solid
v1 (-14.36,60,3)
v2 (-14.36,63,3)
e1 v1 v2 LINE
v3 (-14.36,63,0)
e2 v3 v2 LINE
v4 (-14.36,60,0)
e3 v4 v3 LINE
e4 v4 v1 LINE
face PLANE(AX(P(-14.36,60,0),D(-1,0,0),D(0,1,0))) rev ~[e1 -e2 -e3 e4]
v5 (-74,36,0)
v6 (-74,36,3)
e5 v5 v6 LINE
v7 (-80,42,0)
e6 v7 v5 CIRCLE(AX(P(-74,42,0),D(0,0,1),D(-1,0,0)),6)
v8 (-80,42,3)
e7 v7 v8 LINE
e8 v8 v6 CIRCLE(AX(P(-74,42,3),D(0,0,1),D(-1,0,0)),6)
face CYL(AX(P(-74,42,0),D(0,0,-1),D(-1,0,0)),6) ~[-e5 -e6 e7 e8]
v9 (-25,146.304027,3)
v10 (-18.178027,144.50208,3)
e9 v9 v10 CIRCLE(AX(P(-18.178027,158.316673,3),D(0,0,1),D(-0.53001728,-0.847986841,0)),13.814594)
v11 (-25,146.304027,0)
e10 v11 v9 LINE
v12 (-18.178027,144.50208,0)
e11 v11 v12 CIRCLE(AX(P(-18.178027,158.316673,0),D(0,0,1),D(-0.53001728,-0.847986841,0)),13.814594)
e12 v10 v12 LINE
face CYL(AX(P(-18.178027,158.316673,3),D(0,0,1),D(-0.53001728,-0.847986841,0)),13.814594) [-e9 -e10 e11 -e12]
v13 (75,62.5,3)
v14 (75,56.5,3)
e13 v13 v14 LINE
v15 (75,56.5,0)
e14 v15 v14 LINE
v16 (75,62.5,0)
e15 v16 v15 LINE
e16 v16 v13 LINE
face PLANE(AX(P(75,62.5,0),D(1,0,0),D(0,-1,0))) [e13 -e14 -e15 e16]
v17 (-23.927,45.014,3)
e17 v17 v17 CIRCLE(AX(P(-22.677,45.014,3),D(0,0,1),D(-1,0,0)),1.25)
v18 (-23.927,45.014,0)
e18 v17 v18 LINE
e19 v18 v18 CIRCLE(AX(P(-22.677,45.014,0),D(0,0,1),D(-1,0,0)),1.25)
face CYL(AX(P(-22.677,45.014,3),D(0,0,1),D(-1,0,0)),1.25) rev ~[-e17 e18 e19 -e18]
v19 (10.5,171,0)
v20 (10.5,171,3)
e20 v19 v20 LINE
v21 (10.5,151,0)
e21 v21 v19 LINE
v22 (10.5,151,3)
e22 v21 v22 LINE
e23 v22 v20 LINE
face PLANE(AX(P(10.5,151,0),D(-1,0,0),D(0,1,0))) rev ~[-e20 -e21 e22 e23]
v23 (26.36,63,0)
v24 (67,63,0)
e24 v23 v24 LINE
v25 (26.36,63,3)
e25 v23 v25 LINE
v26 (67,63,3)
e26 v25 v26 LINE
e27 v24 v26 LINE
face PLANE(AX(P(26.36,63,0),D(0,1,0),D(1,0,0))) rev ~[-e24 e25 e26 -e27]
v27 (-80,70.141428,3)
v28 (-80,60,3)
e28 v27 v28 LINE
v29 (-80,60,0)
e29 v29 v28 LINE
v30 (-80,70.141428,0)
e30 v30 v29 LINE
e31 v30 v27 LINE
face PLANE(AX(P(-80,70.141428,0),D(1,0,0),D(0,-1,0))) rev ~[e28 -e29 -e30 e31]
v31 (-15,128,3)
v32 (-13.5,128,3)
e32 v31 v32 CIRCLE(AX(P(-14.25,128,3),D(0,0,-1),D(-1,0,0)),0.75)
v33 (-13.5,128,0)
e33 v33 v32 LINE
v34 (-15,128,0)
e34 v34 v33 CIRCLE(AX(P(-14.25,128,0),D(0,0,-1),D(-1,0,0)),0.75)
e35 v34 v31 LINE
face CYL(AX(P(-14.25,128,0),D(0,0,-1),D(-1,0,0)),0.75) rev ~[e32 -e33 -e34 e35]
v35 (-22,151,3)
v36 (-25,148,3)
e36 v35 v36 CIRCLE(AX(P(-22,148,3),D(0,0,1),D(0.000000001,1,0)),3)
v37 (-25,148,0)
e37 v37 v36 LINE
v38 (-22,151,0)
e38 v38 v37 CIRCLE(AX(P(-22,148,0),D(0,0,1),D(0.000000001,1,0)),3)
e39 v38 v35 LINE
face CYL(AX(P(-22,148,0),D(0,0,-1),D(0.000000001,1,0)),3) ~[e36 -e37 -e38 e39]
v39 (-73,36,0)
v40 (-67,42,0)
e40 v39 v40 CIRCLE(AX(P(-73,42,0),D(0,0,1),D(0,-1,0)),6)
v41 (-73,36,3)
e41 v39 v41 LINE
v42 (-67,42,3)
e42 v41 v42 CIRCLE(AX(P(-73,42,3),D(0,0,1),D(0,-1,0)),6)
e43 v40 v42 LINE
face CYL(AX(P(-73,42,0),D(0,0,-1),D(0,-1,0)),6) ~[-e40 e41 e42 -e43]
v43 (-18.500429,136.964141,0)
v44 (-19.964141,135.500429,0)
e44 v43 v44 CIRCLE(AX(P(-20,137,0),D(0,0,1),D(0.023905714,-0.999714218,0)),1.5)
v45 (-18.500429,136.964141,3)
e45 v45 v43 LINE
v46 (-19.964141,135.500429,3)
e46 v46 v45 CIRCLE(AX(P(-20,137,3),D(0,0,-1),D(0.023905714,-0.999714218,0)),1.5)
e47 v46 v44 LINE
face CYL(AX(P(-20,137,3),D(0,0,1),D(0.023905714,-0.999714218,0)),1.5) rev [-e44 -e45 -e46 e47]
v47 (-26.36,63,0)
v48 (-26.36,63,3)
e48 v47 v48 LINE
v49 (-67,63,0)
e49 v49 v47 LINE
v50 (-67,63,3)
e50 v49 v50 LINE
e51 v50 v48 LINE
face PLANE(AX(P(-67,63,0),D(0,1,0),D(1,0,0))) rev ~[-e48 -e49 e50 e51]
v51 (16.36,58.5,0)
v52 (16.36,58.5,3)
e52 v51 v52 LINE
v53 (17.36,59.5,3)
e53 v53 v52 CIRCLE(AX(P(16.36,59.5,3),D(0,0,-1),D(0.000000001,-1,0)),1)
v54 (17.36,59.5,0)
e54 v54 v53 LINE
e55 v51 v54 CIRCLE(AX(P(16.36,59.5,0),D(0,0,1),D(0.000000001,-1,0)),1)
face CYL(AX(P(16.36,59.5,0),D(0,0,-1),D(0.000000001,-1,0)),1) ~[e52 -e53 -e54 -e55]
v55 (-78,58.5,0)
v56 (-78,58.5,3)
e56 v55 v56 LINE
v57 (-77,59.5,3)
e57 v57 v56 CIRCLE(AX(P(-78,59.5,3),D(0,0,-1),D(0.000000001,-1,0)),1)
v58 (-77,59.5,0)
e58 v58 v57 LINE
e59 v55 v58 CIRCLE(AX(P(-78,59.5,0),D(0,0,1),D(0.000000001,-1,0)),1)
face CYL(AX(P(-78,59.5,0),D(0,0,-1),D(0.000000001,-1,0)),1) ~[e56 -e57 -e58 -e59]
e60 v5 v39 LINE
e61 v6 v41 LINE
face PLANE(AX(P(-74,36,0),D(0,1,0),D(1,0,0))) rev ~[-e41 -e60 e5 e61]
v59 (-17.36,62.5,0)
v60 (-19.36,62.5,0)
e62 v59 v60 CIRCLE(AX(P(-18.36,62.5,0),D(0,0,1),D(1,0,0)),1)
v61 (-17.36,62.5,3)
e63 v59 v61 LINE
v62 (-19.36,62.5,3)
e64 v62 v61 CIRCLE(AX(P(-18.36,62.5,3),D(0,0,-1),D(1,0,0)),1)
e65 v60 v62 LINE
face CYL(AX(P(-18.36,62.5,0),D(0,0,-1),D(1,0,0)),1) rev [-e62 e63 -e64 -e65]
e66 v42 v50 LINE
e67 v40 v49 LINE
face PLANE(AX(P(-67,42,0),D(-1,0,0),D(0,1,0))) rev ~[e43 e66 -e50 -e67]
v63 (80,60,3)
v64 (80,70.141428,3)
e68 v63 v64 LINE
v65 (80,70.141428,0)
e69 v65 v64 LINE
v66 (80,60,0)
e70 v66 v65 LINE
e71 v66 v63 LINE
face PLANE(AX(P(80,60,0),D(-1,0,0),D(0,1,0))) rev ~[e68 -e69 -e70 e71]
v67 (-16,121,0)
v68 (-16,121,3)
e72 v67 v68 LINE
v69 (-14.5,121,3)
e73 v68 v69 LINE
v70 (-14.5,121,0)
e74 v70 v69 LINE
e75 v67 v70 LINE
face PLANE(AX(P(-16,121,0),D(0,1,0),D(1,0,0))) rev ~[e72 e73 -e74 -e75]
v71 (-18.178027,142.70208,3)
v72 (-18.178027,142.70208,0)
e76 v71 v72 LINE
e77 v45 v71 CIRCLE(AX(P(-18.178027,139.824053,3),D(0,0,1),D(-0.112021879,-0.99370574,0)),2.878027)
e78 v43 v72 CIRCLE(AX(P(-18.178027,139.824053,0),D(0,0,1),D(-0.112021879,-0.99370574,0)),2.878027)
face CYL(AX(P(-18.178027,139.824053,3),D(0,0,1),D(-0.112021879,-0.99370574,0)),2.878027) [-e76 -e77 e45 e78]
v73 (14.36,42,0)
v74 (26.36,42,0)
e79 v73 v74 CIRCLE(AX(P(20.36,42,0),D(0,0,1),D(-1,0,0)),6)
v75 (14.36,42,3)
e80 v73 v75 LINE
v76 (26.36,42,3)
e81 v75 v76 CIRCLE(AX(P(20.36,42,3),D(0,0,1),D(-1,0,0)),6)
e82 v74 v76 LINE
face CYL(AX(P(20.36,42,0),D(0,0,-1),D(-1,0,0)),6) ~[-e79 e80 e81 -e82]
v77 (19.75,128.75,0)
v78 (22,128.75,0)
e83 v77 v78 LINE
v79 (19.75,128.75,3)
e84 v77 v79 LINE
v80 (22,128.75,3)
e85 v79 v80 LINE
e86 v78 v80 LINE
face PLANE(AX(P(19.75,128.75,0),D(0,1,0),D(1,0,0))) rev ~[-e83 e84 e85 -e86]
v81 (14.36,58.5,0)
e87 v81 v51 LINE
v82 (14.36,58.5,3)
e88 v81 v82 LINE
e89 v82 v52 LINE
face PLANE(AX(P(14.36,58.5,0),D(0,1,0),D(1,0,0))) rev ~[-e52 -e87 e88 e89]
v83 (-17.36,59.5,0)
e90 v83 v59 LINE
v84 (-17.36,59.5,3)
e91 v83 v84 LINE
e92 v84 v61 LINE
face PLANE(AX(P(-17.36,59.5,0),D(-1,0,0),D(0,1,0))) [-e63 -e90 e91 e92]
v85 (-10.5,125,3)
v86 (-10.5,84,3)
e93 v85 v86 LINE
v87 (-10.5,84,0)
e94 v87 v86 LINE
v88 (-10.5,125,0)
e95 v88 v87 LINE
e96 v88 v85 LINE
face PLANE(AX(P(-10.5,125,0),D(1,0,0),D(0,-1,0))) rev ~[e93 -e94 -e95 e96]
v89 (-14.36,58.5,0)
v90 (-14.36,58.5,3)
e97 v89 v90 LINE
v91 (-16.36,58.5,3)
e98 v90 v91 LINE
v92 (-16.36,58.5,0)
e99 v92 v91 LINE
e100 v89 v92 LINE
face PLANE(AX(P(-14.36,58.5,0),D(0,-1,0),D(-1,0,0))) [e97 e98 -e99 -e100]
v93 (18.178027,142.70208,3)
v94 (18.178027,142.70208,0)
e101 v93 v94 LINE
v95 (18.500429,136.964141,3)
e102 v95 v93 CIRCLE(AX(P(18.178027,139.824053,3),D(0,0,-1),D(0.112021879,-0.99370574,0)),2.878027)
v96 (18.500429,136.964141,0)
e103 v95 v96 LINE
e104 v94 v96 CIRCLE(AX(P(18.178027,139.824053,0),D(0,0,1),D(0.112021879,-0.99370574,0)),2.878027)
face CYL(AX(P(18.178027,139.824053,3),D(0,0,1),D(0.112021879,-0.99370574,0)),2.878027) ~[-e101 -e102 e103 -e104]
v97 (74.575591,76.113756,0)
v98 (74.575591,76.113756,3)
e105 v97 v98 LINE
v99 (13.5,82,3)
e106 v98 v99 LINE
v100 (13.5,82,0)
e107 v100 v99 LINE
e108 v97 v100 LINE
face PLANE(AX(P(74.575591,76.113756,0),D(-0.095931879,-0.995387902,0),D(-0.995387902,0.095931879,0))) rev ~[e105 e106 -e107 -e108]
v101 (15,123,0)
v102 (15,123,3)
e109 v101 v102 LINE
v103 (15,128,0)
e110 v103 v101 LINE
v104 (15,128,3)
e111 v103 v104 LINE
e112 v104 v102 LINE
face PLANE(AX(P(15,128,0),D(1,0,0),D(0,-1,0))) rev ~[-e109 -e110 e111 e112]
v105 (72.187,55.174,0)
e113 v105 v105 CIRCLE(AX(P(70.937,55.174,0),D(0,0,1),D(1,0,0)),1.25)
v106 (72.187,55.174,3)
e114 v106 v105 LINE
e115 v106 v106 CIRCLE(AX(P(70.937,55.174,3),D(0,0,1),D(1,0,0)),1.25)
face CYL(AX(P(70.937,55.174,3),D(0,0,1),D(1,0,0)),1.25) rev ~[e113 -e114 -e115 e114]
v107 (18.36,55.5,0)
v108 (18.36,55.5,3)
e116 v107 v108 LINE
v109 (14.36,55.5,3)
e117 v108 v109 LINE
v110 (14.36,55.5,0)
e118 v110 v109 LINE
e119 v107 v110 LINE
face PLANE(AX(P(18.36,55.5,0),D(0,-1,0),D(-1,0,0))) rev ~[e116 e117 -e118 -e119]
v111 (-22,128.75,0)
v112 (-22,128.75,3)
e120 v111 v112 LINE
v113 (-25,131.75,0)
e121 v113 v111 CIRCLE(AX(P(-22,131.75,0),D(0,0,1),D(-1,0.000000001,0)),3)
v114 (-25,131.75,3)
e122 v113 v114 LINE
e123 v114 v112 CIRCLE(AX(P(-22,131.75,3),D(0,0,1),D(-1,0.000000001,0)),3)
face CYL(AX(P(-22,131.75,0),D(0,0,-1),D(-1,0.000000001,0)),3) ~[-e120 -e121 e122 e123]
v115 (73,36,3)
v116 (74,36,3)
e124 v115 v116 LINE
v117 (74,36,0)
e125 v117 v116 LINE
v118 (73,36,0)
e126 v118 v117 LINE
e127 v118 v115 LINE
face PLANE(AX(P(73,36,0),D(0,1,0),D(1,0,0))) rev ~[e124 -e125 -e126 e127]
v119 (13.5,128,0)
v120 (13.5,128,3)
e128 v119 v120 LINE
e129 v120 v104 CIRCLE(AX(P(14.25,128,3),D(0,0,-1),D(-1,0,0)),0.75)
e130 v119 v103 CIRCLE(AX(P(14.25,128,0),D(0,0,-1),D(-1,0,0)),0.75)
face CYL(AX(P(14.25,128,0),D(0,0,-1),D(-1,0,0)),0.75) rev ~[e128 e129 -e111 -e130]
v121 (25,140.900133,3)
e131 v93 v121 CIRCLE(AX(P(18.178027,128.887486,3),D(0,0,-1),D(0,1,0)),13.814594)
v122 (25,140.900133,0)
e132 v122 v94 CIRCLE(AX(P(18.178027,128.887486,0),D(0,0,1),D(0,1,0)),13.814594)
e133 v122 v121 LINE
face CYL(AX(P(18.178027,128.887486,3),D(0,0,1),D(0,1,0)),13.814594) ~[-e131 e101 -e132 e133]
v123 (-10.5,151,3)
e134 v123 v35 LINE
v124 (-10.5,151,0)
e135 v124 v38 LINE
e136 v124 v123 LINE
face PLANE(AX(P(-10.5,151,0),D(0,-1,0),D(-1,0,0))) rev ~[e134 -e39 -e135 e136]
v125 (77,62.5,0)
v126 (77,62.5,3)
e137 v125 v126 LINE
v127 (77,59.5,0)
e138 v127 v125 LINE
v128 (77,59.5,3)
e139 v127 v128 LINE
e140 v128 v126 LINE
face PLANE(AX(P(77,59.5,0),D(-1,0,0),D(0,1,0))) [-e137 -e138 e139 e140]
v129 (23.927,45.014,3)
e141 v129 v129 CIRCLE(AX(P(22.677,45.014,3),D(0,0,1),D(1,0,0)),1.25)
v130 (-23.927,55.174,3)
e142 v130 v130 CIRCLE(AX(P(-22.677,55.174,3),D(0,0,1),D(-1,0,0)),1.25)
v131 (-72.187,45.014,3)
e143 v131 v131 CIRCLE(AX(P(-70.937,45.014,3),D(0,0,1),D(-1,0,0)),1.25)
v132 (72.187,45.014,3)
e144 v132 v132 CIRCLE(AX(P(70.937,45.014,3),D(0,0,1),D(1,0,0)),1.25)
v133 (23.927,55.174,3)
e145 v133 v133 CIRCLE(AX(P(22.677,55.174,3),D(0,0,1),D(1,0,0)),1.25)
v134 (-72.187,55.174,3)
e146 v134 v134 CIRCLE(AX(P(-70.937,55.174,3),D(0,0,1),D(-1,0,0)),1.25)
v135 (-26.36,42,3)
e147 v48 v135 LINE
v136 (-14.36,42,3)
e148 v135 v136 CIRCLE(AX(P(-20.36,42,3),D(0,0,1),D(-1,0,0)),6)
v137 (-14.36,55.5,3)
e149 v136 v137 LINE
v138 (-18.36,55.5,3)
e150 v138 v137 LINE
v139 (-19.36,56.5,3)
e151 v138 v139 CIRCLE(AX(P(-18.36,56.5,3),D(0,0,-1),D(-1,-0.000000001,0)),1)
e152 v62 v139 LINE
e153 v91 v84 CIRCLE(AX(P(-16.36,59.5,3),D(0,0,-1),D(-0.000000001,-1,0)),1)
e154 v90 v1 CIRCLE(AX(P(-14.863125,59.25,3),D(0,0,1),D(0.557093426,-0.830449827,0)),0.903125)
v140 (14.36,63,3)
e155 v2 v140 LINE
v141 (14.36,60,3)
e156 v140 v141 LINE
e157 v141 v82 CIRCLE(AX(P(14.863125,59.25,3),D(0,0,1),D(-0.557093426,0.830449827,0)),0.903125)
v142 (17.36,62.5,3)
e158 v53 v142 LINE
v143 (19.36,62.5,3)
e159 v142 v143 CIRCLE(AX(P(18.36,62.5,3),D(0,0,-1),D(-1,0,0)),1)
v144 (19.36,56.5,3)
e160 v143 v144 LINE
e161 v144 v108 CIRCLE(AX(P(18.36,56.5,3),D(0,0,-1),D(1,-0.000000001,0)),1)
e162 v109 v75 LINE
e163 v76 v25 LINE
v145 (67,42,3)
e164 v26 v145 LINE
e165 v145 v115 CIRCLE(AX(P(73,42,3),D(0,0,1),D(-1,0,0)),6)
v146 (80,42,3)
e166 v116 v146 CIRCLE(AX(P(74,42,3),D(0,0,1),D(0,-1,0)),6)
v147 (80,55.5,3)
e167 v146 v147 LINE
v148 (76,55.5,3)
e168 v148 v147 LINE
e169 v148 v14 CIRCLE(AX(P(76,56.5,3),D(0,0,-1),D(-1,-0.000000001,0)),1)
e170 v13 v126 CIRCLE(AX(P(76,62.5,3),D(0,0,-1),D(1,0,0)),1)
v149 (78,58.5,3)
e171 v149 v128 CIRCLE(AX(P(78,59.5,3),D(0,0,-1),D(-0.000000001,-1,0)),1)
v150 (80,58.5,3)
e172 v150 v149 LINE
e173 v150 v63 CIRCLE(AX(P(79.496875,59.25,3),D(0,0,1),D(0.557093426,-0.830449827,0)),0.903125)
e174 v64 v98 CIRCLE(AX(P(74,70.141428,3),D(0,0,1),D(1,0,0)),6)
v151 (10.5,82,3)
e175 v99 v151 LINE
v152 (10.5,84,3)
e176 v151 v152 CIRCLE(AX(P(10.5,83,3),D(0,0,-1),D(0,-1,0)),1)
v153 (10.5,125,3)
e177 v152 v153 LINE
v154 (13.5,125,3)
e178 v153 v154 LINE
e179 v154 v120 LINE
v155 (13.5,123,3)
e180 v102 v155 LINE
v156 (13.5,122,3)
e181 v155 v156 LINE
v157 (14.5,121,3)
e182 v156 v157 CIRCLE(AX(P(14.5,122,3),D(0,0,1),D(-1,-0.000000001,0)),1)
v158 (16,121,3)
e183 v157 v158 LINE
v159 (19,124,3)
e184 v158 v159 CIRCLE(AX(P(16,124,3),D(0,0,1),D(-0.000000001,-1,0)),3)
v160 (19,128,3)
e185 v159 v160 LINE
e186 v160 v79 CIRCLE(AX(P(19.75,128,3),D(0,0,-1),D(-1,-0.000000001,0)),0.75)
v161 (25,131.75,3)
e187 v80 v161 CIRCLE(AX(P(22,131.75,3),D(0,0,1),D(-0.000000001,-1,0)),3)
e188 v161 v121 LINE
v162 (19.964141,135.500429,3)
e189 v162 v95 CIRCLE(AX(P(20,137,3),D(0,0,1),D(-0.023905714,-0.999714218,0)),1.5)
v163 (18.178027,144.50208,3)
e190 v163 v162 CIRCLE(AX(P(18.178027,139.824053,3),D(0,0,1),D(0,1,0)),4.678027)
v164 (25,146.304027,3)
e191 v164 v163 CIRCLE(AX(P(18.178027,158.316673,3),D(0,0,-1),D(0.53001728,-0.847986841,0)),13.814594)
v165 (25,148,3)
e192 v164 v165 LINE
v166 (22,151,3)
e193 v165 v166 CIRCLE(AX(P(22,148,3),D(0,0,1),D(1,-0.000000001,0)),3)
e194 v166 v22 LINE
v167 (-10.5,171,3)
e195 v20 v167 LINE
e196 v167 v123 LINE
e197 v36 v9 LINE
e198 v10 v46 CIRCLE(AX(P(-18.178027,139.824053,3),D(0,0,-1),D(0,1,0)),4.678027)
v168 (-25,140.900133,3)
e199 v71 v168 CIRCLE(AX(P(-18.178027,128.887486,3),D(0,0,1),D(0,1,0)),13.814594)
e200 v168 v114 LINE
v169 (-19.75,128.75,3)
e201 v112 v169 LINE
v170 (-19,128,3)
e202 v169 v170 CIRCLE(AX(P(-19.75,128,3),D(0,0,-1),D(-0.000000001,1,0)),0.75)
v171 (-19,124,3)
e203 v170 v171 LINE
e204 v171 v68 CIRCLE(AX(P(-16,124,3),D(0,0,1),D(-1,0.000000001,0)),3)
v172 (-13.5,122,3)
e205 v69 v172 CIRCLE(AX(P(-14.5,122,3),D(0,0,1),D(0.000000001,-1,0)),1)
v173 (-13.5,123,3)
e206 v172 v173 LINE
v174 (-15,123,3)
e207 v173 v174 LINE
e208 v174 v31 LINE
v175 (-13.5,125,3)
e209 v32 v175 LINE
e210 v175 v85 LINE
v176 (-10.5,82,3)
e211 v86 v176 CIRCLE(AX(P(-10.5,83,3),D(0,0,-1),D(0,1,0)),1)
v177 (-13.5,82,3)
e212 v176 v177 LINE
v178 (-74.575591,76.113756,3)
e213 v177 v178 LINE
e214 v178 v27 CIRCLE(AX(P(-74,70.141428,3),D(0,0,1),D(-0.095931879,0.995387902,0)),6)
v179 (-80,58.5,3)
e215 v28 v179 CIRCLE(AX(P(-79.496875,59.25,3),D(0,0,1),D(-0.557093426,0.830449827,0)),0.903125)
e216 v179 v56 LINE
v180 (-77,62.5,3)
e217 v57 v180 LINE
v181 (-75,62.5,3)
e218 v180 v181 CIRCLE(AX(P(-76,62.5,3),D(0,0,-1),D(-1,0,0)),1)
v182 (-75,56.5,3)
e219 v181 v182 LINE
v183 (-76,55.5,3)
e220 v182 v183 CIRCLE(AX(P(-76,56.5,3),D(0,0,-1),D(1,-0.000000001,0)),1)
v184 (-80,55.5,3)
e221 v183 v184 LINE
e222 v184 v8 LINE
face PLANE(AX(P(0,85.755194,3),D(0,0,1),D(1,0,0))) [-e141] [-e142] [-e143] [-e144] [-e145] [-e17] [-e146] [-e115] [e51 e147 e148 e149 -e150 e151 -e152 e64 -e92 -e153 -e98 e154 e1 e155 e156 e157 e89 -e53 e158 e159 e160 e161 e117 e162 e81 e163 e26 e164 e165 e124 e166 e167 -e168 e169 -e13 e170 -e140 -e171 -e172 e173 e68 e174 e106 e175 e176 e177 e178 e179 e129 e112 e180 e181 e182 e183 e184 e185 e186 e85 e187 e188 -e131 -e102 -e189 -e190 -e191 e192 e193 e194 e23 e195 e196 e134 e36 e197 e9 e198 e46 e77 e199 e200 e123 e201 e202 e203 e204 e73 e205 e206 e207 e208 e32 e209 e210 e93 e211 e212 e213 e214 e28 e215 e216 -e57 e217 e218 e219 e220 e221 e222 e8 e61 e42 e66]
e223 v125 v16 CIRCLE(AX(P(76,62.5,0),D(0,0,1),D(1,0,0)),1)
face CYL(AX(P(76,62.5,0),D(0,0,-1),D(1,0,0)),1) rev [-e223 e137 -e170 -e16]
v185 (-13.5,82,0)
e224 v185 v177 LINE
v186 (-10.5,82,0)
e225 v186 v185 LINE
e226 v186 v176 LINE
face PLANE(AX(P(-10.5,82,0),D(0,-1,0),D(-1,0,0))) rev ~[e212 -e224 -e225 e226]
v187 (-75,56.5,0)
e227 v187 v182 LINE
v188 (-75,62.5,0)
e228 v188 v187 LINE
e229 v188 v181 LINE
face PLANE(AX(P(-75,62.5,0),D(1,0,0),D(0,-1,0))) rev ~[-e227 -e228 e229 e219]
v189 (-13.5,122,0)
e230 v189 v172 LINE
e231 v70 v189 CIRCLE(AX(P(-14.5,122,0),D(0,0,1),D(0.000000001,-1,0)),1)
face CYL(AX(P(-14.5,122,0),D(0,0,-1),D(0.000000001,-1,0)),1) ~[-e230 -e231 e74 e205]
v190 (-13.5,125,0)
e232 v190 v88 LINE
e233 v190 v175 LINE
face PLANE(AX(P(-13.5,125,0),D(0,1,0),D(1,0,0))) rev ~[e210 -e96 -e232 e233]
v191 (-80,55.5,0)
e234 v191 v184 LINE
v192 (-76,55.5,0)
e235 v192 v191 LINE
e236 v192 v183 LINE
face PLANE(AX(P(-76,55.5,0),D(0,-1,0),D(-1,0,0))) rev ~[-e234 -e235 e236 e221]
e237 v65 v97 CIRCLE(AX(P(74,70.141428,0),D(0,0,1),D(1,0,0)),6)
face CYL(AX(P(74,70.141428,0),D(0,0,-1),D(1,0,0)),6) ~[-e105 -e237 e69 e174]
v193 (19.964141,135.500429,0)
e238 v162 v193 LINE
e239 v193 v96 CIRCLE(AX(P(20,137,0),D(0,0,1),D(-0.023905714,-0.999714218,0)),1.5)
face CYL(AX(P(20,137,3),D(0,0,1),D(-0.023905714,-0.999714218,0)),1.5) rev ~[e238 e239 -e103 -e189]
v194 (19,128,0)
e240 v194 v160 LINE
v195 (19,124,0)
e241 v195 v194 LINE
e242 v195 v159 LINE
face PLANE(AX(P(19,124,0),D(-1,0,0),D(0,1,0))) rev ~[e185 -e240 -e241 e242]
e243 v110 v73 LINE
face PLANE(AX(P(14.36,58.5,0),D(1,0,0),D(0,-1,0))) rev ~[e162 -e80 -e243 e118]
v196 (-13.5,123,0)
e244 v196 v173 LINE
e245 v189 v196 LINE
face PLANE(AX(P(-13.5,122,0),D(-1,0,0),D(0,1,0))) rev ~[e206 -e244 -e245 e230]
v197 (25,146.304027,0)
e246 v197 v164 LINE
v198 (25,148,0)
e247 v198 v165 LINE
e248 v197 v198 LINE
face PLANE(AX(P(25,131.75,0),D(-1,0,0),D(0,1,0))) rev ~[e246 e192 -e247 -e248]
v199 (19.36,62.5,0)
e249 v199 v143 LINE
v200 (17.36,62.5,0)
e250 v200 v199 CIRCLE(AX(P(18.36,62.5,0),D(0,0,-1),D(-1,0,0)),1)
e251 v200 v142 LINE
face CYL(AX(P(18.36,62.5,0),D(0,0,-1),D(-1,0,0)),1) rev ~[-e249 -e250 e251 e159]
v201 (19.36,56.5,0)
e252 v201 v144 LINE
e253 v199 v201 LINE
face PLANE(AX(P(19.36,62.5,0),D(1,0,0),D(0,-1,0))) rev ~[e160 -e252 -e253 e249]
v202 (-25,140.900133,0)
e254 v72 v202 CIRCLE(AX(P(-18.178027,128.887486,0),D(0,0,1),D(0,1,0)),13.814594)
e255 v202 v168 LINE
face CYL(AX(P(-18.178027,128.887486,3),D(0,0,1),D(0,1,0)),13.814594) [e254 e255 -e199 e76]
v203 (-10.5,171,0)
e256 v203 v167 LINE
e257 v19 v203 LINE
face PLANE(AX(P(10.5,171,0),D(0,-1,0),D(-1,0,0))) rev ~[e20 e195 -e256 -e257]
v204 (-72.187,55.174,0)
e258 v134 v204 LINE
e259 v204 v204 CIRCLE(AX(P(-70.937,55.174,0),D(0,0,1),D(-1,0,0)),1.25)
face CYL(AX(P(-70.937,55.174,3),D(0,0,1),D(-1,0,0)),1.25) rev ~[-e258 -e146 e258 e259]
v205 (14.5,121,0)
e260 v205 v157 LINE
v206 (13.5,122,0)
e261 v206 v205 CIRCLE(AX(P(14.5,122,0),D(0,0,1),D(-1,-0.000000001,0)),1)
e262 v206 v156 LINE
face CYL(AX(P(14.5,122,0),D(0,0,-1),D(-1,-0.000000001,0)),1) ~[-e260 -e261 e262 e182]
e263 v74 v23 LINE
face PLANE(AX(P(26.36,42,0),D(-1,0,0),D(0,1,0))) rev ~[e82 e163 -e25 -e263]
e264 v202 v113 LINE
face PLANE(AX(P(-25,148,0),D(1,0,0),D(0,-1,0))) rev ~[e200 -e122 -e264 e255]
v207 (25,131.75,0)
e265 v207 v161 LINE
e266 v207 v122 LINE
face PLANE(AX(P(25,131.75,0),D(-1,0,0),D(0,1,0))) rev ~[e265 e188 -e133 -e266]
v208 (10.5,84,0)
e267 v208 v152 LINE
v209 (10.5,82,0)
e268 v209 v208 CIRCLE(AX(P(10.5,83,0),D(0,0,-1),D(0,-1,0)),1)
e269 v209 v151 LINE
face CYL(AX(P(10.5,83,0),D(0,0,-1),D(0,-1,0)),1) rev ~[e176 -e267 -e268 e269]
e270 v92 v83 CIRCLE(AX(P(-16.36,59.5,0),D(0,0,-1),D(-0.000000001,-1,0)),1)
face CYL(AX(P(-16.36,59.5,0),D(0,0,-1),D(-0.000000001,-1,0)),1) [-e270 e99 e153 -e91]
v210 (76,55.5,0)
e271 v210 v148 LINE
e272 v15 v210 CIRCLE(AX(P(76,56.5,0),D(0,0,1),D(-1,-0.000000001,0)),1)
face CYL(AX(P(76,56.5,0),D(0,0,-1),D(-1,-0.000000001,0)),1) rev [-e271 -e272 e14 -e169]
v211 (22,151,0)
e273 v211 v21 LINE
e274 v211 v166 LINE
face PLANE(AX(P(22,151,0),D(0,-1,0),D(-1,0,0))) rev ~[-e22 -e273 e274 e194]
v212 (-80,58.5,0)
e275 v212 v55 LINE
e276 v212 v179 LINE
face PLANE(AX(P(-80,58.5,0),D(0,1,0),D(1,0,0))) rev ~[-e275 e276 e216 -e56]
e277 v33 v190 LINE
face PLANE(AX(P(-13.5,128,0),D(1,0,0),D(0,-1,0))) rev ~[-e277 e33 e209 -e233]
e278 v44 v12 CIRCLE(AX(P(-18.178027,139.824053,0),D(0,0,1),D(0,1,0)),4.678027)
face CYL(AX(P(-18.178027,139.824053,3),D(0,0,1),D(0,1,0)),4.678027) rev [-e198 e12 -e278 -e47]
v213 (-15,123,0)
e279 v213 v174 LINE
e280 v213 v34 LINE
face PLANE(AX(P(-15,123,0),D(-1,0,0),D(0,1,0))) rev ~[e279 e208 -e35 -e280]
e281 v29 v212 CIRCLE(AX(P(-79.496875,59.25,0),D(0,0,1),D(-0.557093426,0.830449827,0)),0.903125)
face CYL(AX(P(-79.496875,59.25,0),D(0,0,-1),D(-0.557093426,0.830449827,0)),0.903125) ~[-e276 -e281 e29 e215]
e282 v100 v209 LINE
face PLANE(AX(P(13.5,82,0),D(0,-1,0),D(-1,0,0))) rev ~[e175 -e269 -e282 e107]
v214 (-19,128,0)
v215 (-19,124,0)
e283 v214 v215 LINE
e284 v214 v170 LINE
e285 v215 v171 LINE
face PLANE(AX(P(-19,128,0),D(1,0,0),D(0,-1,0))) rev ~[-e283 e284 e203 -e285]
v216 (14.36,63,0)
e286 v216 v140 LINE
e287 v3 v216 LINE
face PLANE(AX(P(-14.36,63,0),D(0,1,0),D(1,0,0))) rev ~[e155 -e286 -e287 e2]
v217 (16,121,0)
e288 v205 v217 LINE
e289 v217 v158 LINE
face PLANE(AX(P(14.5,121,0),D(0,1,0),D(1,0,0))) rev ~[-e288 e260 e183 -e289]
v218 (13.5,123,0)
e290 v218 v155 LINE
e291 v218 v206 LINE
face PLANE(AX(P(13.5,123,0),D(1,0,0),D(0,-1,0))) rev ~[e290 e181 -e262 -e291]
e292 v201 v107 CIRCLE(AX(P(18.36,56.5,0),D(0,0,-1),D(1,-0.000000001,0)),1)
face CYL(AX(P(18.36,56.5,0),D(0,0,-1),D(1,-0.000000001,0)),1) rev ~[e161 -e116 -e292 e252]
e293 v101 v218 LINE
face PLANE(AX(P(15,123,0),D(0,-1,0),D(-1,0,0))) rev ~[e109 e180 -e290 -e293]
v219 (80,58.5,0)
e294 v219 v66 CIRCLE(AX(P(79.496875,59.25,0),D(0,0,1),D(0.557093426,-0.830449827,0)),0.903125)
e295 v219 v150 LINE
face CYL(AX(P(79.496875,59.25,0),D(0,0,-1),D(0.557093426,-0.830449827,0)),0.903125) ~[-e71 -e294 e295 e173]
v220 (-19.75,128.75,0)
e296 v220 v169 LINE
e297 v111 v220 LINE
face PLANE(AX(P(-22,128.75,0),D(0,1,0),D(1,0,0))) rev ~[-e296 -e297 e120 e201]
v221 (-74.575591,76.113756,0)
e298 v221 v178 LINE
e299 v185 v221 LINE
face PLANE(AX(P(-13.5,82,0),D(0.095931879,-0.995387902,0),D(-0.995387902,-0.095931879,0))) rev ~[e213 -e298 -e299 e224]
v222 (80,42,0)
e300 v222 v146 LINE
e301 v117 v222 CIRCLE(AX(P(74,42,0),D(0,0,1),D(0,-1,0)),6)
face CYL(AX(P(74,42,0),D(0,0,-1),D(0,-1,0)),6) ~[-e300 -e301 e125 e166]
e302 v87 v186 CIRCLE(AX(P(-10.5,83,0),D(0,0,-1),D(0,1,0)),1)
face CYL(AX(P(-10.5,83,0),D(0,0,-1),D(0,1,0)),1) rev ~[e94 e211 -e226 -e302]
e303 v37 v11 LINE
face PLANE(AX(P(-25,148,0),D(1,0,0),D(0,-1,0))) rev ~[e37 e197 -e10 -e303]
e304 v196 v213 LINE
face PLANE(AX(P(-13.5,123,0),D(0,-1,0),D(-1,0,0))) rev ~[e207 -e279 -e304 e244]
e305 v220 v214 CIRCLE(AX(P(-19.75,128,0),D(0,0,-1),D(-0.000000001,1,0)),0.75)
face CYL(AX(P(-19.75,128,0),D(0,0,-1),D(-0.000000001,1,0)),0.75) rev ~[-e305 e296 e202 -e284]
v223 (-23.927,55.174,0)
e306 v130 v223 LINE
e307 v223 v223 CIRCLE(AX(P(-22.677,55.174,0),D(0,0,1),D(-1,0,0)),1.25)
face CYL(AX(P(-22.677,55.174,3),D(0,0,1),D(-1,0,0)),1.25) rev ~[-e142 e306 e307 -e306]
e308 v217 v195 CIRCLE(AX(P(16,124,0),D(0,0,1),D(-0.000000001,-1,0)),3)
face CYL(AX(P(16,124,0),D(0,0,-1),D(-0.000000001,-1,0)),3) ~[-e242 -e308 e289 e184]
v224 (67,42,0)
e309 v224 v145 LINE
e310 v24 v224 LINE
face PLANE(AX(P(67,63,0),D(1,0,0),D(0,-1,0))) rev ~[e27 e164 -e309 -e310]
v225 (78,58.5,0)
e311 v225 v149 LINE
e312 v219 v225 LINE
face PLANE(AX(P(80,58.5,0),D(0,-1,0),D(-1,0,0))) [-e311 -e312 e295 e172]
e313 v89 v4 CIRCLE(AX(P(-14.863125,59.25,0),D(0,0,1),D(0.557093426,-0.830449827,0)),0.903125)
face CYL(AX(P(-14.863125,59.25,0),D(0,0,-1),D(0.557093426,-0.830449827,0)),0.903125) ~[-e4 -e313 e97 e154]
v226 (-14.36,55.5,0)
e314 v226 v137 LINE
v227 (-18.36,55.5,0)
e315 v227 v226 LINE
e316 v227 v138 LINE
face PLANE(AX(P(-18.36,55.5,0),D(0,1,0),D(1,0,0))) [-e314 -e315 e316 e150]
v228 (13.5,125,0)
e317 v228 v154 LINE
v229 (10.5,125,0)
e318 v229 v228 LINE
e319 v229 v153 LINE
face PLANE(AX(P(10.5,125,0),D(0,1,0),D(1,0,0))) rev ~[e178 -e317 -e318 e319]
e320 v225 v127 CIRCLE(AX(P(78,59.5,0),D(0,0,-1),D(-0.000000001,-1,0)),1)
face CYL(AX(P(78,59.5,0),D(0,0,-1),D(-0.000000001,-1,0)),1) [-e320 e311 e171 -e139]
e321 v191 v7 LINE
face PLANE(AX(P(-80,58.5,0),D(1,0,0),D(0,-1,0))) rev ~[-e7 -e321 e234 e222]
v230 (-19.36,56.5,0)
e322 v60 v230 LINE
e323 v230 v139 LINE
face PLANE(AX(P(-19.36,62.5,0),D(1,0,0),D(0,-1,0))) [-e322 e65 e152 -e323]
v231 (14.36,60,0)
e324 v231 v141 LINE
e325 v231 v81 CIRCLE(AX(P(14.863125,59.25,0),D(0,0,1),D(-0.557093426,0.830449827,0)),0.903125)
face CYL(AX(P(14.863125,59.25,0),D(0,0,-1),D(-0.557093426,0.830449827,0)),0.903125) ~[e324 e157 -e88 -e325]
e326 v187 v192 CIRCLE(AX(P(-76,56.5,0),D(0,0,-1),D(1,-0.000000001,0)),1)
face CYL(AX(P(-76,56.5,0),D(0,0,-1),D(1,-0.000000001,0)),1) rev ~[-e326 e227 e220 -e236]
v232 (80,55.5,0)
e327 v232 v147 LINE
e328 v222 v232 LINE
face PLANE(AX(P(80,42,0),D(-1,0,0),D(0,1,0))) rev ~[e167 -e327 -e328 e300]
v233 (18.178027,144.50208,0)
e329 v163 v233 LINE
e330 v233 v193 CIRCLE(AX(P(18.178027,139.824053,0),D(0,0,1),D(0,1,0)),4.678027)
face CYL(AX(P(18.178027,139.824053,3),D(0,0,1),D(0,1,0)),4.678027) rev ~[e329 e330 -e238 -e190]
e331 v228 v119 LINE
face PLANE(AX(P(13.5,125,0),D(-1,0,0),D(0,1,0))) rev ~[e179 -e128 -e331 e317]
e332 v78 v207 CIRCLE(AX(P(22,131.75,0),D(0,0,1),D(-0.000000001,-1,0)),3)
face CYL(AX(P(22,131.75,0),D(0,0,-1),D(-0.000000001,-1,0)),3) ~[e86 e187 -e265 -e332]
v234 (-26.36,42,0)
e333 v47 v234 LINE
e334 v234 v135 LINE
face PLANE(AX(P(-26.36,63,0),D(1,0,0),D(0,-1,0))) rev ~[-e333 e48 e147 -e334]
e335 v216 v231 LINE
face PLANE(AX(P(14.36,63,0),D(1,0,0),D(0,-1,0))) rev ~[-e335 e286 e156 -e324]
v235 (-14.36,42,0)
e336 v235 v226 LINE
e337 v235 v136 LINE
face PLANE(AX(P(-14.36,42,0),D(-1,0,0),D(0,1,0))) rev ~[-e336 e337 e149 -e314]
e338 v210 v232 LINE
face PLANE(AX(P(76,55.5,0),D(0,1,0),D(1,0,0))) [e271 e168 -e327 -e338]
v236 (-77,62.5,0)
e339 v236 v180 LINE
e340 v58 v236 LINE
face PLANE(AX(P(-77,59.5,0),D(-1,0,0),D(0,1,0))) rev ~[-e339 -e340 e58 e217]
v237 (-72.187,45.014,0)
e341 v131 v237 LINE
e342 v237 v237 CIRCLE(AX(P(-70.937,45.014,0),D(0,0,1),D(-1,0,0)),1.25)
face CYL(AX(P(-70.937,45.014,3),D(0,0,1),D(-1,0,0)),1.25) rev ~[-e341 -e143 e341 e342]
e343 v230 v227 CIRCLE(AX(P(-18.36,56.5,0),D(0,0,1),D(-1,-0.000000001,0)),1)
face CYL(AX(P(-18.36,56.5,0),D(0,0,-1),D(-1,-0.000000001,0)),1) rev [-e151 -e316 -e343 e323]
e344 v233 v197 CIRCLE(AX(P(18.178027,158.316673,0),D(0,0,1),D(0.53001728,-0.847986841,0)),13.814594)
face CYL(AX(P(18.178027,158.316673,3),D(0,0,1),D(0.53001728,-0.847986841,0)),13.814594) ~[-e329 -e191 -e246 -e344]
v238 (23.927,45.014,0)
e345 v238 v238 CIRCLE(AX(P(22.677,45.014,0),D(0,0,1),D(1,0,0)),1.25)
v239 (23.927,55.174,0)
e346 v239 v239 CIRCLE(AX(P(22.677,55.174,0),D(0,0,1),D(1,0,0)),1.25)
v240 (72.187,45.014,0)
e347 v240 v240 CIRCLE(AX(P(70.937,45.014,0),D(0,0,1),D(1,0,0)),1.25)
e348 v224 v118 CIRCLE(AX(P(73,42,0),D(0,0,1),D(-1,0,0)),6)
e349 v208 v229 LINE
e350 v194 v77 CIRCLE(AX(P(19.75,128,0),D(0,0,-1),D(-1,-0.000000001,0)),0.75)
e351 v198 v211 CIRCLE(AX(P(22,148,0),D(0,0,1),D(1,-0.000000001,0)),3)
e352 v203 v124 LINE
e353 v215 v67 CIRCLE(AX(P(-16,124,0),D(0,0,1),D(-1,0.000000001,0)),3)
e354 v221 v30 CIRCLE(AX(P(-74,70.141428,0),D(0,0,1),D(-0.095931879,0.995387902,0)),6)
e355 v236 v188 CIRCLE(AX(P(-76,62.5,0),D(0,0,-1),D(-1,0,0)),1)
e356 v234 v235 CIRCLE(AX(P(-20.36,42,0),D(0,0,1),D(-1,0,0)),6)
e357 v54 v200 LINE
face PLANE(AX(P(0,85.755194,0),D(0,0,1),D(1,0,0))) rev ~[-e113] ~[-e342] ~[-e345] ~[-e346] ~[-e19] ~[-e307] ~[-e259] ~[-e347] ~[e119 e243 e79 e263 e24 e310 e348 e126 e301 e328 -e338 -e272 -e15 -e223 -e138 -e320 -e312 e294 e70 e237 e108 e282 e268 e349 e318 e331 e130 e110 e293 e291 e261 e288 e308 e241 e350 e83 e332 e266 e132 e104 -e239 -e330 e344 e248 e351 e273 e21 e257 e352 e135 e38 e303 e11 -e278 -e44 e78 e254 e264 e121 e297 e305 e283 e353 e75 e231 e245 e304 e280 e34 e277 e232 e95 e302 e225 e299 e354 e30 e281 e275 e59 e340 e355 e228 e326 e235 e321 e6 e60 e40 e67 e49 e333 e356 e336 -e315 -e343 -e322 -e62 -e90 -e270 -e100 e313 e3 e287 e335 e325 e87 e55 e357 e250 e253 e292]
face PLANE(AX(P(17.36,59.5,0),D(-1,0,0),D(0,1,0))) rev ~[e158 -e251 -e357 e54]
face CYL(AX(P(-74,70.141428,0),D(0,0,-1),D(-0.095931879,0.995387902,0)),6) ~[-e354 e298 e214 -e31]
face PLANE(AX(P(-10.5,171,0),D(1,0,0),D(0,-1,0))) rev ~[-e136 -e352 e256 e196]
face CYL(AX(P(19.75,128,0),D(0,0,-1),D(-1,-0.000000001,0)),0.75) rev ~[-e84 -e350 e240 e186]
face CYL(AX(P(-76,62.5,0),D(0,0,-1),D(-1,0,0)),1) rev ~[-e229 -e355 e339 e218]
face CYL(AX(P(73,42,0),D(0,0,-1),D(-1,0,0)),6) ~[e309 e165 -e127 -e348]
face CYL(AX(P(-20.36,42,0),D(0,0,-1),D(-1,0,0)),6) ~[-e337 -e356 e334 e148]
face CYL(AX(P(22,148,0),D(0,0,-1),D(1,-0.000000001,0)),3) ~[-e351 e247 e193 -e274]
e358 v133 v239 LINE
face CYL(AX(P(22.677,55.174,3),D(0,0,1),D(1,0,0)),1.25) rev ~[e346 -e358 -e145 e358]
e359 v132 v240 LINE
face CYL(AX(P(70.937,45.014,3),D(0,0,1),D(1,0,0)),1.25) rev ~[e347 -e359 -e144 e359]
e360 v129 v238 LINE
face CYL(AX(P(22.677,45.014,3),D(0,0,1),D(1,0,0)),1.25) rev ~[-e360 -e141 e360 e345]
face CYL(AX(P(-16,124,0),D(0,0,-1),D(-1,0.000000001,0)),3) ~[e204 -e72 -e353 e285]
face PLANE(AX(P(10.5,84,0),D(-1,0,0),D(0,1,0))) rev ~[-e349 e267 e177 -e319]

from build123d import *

# Parameters (mm, degrees)
BOSS_EXTRUDE1_DEPTH        = 3
SERVO_MOUNTING_HOLES_REACH = 190.982
SKETCH5_R                  = 1.25
ELASTIC_ANCHOR_REACH       = 190.982
TAB_RELIEF_CUT_SERVO_REACH = 190.982


with BuildPart() as part:
    # Sketch1 → Boss-Extrude1 (new body)
    with BuildSketch(Plane.XY):
        with BuildLine():
            Line((-67, 63), (-26.36, 63))
            Line((-26.36, 63), (-26.36, 42))
            ThreePointArc((-26.36, 42), (-20.36, 36), (-14.36, 42))
            Line((-14.36, 42), (-14.36, 58.5))
            ThreePointArc((-14.36, 58.5), (-13.96, 59.25), (-14.36, 60))
            Line((-14.36, 60), (-14.36, 63))
            Line((-14.36, 63), (0, 63))
            Line((0, 63), (14.36, 63))
            Line((14.36, 63), (14.36, 60))
            ThreePointArc((14.36, 60), (13.96, 59.25), (14.36, 58.5))
            Line((14.36, 58.5), (14.36, 42))
            ThreePointArc((14.36, 42), (20.36, 36), (26.36, 42))
            Line((26.36, 42), (26.36, 63))
            Line((26.36, 63), (67, 63))
            Line((67, 63), (67, 42))
            ThreePointArc((67, 42), (68.757359313, 37.757359313), (73, 36))
            Line((73, 36), (74, 36))
            ThreePointArc((74, 36), (78.242640687, 37.757359313), (80, 42))
            Line((80, 42), (80, 58.5))
            ThreePointArc((80, 58.5), (80.4, 59.25), (80, 60))
            Line((80, 60), (80, 63))
            Line((80, 63), (80, 70.141428429))
            ThreePointArc((80, 70.141428429), (78.441483291, 74.175437127), (74.575591273, 76.113755838))
            Line((74.575591273, 76.113755838), (13.5, 82))
            Line((13.5, 82), (10.5, 82))
            ThreePointArc((10.5, 82), (9.5, 83), (10.5, 84))
            Line((10.5, 84), (10.5, 125))
            Line((10.5, 125), (13.5, 125))
            Line((13.5, 125), (13.5, 128))
            ThreePointArc((13.5, 128), (14.25, 128.75), (15, 128))
            Line((15, 128), (15, 123))
            Line((15, 123), (13.5, 123))
            Line((13.5, 123), (13.5, 122))
            ThreePointArc((13.5, 122), (13.792893219, 121.292893219), (14.5, 121))
            Line((14.5, 121), (16, 121))
            ThreePointArc((16, 121), (18.121320344, 121.878679656), (19, 124))
            Line((19, 124), (19, 128))
            ThreePointArc((19, 128), (19.219669914, 128.530330086), (19.75, 128.75))
            Line((19.75, 128.75), (22, 128.75))
            ThreePointArc((22, 128.75), (24.121320344, 129.628679656), (25, 131.75))
            Line((25, 131.75), (25, 148))
            ThreePointArc((25, 148), (24.121320344, 150.121320344), (22, 151))
            Line((22, 151), (10.5, 151))
            Line((10.5, 151), (10.5, 171))
            Line((10.5, 171), (-10.5, 171))
            Line((-10.5, 171), (-10.5, 151))
            Line((-10.5, 151), (-22, 151))
            ThreePointArc((-22, 151), (-24.121320344, 150.121320344), (-25, 148))
            Line((-25, 148), (-25, 131.75))
            ThreePointArc((-25, 131.75), (-24.121320344, 129.628679656), (-22, 128.75))
            Line((-22, 128.75), (-19.75, 128.75))
            ThreePointArc((-19.75, 128.75), (-19.219669914, 128.530330086), (-19, 128))
            Line((-19, 128), (-19, 124))
            ThreePointArc((-19, 124), (-18.121320344, 121.878679656), (-16, 121))
            Line((-16, 121), (-14.5, 121))
            ThreePointArc((-14.5, 121), (-13.792893219, 121.292893219), (-13.5, 122))
            Line((-13.5, 122), (-13.5, 123))
            Line((-13.5, 123), (-15, 123))
            Line((-15, 123), (-15, 128))
            ThreePointArc((-15, 128), (-14.25, 128.75), (-13.5, 128))
            Line((-13.5, 128), (-13.5, 125))
            Line((-13.5, 125), (-10.5, 125))
            Line((-10.5, 125), (-10.5, 84))
            ThreePointArc((-10.5, 84), (-9.5, 83), (-10.5, 82))
            Line((-10.5, 82), (-13.5, 82))
            Line((-13.5, 82), (-74.575591273, 76.113755838))
            ThreePointArc((-74.575591273, 76.113755838), (-78.441483291, 74.175437127), (-80, 70.141428429))
            Line((-80, 70.141428429), (-80, 63))
            Line((-80, 63), (-80, 60))
            ThreePointArc((-80, 60), (-80.4, 59.25), (-80, 58.5))
            Line((-80, 58.5), (-80, 42))
            ThreePointArc((-80, 42), (-78.242640687, 37.757359313), (-74, 36))
            Line((-74, 36), (-73, 36))
            ThreePointArc((-73, 36), (-68.757359313, 37.757359313), (-67, 42))
            Line((-67, 42), (-67, 63))
        make_face()
    extrude(amount=BOSS_EXTRUDE1_DEPTH)

    # Sketch5 → servo mounting holes (cut, up to next)
    with BuildSketch(Plane.XY.offset(3), mode=Mode.PRIVATE) as servo_mounting_holes_sk1:
        with Locations((70.937, 55.174)):
            Circle(SKETCH5_R)
    servo_mounting_holes_tool1 = extrude(servo_mounting_holes_sk1.sketch, amount=-SERVO_MOUNTING_HOLES_REACH, mode=Mode.PRIVATE) & part.part
    # Sketch5 → servo mounting holes (cut, up to next)
    with BuildSketch(Plane.XY.offset(3), mode=Mode.PRIVATE) as servo_mounting_holes_sk2:
        with Locations((70.937, 45.014)):
            Circle(SKETCH5_R)
    servo_mounting_holes_tool2 = extrude(servo_mounting_holes_sk2.sketch, amount=-SERVO_MOUNTING_HOLES_REACH, mode=Mode.PRIVATE) & part.part
    # Sketch5 → servo mounting holes (cut, up to next)
    with BuildSketch(Plane.XY.offset(3), mode=Mode.PRIVATE) as servo_mounting_holes_sk3:
        with Locations(Location((-70.937, 55.174, 0), (0, 0, 180))):
            Circle(SKETCH5_R)
    servo_mounting_holes_tool3 = extrude(servo_mounting_holes_sk3.sketch, amount=-SERVO_MOUNTING_HOLES_REACH, mode=Mode.PRIVATE) & part.part
    # Sketch5 → servo mounting holes (cut, up to next)
    with BuildSketch(Plane.XY.offset(3), mode=Mode.PRIVATE) as servo_mounting_holes_sk4:
        with Locations(Location((-70.937, 45.014, 0), (0, 0, 180))):
            Circle(SKETCH5_R)
    servo_mounting_holes_tool4 = extrude(servo_mounting_holes_sk4.sketch, amount=-SERVO_MOUNTING_HOLES_REACH, mode=Mode.PRIVATE) & part.part
    # Sketch5 → servo mounting holes (cut, up to next)
    with BuildSketch(Plane.XY.offset(3), mode=Mode.PRIVATE) as servo_mounting_holes_sk5:
        with Locations((22.677, 55.174)):
            Circle(SKETCH5_R)
    servo_mounting_holes_tool5 = extrude(servo_mounting_holes_sk5.sketch, amount=-SERVO_MOUNTING_HOLES_REACH, mode=Mode.PRIVATE) & part.part
    # Sketch5 → servo mounting holes (cut, up to next)
    with BuildSketch(Plane.XY.offset(3), mode=Mode.PRIVATE) as servo_mounting_holes_sk6:
        with Locations((22.677, 45.014)):
            Circle(SKETCH5_R)
    servo_mounting_holes_tool6 = extrude(servo_mounting_holes_sk6.sketch, amount=-SERVO_MOUNTING_HOLES_REACH, mode=Mode.PRIVATE) & part.part
    # Sketch5 → servo mounting holes (cut, up to next)
    with BuildSketch(Plane.XY.offset(3), mode=Mode.PRIVATE) as servo_mounting_holes_sk7:
        with Locations(Location((-22.677, 55.174, 0), (0, 0, 180))):
            Circle(SKETCH5_R)
    servo_mounting_holes_tool7 = extrude(servo_mounting_holes_sk7.sketch, amount=-SERVO_MOUNTING_HOLES_REACH, mode=Mode.PRIVATE) & part.part
    # Sketch5 → servo mounting holes (cut, up to next)
    with BuildSketch(Plane.XY.offset(3), mode=Mode.PRIVATE) as servo_mounting_holes_sk8:
        with Locations(Location((-22.677, 45.014, 0), (0, 0, 180))):
            Circle(SKETCH5_R)
    servo_mounting_holes_tool8 = extrude(servo_mounting_holes_sk8.sketch, amount=-SERVO_MOUNTING_HOLES_REACH, mode=Mode.PRIVATE) & part.part
    add(servo_mounting_holes_tool1.solids().sort_by_distance((70.937, 55.174, 3))[0], mode=Mode.SUBTRACT)
    add(servo_mounting_holes_tool2.solids().sort_by_distance((70.937, 45.014, 3))[0], mode=Mode.SUBTRACT)
    add(servo_mounting_holes_tool3.solids().sort_by_distance((-70.937, 55.174, 3))[0], mode=Mode.SUBTRACT)
    add(servo_mounting_holes_tool4.solids().sort_by_distance((-70.937, 45.014, 3))[0], mode=Mode.SUBTRACT)
    add(servo_mounting_holes_tool5.solids().sort_by_distance((22.677, 55.174, 3))[0], mode=Mode.SUBTRACT)
    add(servo_mounting_holes_tool6.solids().sort_by_distance((22.677, 45.014, 3))[0], mode=Mode.SUBTRACT)
    add(servo_mounting_holes_tool7.solids().sort_by_distance((-22.677, 55.174, 3))[0], mode=Mode.SUBTRACT)
    add(servo_mounting_holes_tool8.solids().sort_by_distance((-22.677, 45.014, 3))[0], mode=Mode.SUBTRACT)

    # Sketch9 → elastic anchor (cut, up to next)
    with BuildSketch(Plane.XY.offset(3), mode=Mode.PRIVATE) as elastic_anchor_sk1:
        with BuildLine():
            ThreePointArc((19.96414143, 135.500428674), (21.060660172, 138.060660172), (18.500428674, 136.96414143))
            ThreePointArc((18.500428674, 136.96414143), (15.304532331, 139.662597854), (18.178026712, 142.702079807))
            ThreePointArc((18.178026712, 142.702079807), (21.986612172, 142.166705802), (25.5, 140.602079807))
            ThreePointArc((25.5, 140.602079807), (29.25852471, 137.13767164), (31.5, 132.543716867))
            Line((31.5, 132.543716867), (31.5, 154.660442747))
            ThreePointArc((31.5, 154.660442747), (29.25852471, 150.066487973), (25.5, 146.602079807))
            ThreePointArc((25.5, 146.602079807), (21.986612172, 145.037453812), (18.178026712, 144.502079807))
            ThreePointArc((18.178026712, 144.502079807), (13.589455886, 138.913585252), (19.96414143, 135.500428674))
        make_face()
    elastic_anchor_tool1 = extrude(elastic_anchor_sk1.sketch, amount=-ELASTIC_ANCHOR_REACH, mode=Mode.PRIVATE) & part.part
    # Sketch9 → elastic anchor (cut, up to next)
    with BuildSketch(Plane.XY.offset(3), mode=Mode.PRIVATE) as elastic_anchor_sk2:
        with BuildLine():
            ThreePointArc((-19.96414143, 135.500428674), (-21.060660172, 138.060660172), (-18.500428674, 136.96414143))
            ThreePointArc((-18.500428674, 136.96414143), (-15.304532331, 139.662597854), (-18.178026712, 142.702079807))
            ThreePointArc((-18.178026712, 142.702079807), (-21.986612172, 142.166705802), (-25.5, 140.602079807))
            ThreePointArc((-25.5, 140.602079807), (-29.25852471, 137.13767164), (-31.5, 132.543716867))
            Line((-31.5, 132.543716867), (-31.5, 154.660442747))
            ThreePointArc((-31.5, 154.660442747), (-29.25852471, 150.066487973), (-25.5, 146.602079807))
            ThreePointArc((-25.5, 146.602079807), (-21.986612172, 145.037453812), (-18.178026712, 144.502079807))
            ThreePointArc((-18.178026712, 144.502079807), (-13.589455886, 138.913585252), (-19.96414143, 135.500428674))
        make_face()
    elastic_anchor_tool2 = extrude(elastic_anchor_sk2.sketch, amount=-ELASTIC_ANCHOR_REACH, mode=Mode.PRIVATE) & part.part
    add(elastic_anchor_tool1.solids().sort_by_distance((24.986566, 142.492974, 3))[0], mode=Mode.SUBTRACT)
    add(elastic_anchor_tool2.solids().sort_by_distance((-24.986566, 142.492974, 3))[0], mode=Mode.SUBTRACT)

    # Sketch12 → tab relief cut servo (cut, up to next)
    with BuildSketch(Plane(origin=(0, 0, 0), x_dir=(-1, 0, 0), z_dir=(0, 0, -1)), mode=Mode.PRIVATE) as tab_relief_cut_servo_sk1:
        with BuildLine():
            Line((80, 58.5), (78, 58.5))
            ThreePointArc((78, 58.5), (77.292893219, 58.792893219), (77, 59.5))
            Line((77, 59.5), (77, 62.5))
            ThreePointArc((77, 62.5), (76, 63.5), (75, 62.5))
            Line((75, 62.5), (75, 56.5))
            ThreePointArc((75, 56.5), (75.292893219, 55.792893219), (76, 55.5))
            Line((76, 55.5), (80, 55.5))
            Line((80, 55.5), (80, 58.5))
        make_face()
    tab_relief_cut_servo_tool1 = extrude(tab_relief_cut_servo_sk1.sketch, amount=-TAB_RELIEF_CUT_SERVO_REACH, mode=Mode.PRIVATE) & part.part
    # Sketch12 → tab relief cut servo (cut, up to next)
    with BuildSketch(Plane(origin=(0, 0, 0), x_dir=(-1, 0, 0), z_dir=(0, 0, -1)), mode=Mode.PRIVATE) as tab_relief_cut_servo_sk2:
        with BuildLine():
            Line((17.36, 59.5), (17.36, 62.5))
            ThreePointArc((17.36, 62.5), (18.36, 63.5), (19.36, 62.5))
            Line((19.36, 62.5), (19.36, 56.5))
            ThreePointArc((19.36, 56.5), (19.067106781, 55.792893219), (18.36, 55.5))
            Line((18.36, 55.5), (14.36, 55.5))
            Line((14.36, 55.5), (14.36, 58.5))
            Line((14.36, 58.5), (16.36, 58.5))
            ThreePointArc((16.36, 58.5), (17.067106781, 58.792893219), (17.36, 59.5))
        make_face()
    tab_relief_cut_servo_tool2 = extrude(tab_relief_cut_servo_sk2.sketch, amount=-TAB_RELIEF_CUT_SERVO_REACH, mode=Mode.PRIVATE) & part.part
    # Sketch12 → tab relief cut servo (cut, up to next)
    with BuildSketch(Plane(origin=(0, 0, 0), x_dir=(-1, 0, 0), z_dir=(0, 0, -1)), mode=Mode.PRIVATE) as tab_relief_cut_servo_sk3:
        with BuildLine():
            Line((-77, 59.5), (-77, 62.5))
            ThreePointArc((-77, 62.5), (-76, 63.5), (-75, 62.5))
            Line((-75, 62.5), (-75, 56.5))
            ThreePointArc((-75, 56.5), (-75.292893219, 55.792893219), (-76, 55.5))
            Line((-76, 55.5), (-80, 55.5))
            Line((-80, 55.5), (-80, 58.5))
            Line((-80, 58.5), (-78, 58.5))
            ThreePointArc((-78, 58.5), (-77.292893219, 58.792893219), (-77, 59.5))
        make_face()
    tab_relief_cut_servo_tool3 = extrude(tab_relief_cut_servo_sk3.sketch, amount=-TAB_RELIEF_CUT_SERVO_REACH, mode=Mode.PRIVATE) & part.part
    # Sketch12 → tab relief cut servo (cut, up to next)
    with BuildSketch(Plane(origin=(0, 0, 0), x_dir=(-1, 0, 0), z_dir=(0, 0, -1)), mode=Mode.PRIVATE) as tab_relief_cut_servo_sk4:
        with BuildLine():
            Line((-17.36, 59.5), (-17.36, 62.5))
            ThreePointArc((-17.36, 62.5), (-18.36, 63.5), (-19.36, 62.5))
            Line((-19.36, 62.5), (-19.36, 56.5))
            ThreePointArc((-19.36, 56.5), (-19.067106781, 55.792893219), (-18.36, 55.5))
            Line((-18.36, 55.5), (-14.36, 55.5))
            Line((-14.36, 55.5), (-14.36, 58.5))
            Line((-14.36, 58.5), (-16.36, 58.5))
            ThreePointArc((-16.36, 58.5), (-17.067106781, 58.792893219), (-17.36, 59.5))
        make_face()
    tab_relief_cut_servo_tool4 = extrude(tab_relief_cut_servo_sk4.sketch, amount=-TAB_RELIEF_CUT_SERVO_REACH, mode=Mode.PRIVATE) & part.part
    add(tab_relief_cut_servo_tool1.solids().sort_by_distance((-76.933189, 58.54451, 0))[0], mode=Mode.SUBTRACT)
    add(tab_relief_cut_servo_tool2.solids().sort_by_distance((-17.426811, 58.54451, 0))[0], mode=Mode.SUBTRACT)
    add(tab_relief_cut_servo_tool3.solids().sort_by_distance((76.933189, 58.54451, 0))[0], mode=Mode.SUBTRACT)
    add(tab_relief_cut_servo_tool4.solids().sort_by_distance((17.426811, 58.54451, 0))[0], mode=Mode.SUBTRACT)


solid = part.part
